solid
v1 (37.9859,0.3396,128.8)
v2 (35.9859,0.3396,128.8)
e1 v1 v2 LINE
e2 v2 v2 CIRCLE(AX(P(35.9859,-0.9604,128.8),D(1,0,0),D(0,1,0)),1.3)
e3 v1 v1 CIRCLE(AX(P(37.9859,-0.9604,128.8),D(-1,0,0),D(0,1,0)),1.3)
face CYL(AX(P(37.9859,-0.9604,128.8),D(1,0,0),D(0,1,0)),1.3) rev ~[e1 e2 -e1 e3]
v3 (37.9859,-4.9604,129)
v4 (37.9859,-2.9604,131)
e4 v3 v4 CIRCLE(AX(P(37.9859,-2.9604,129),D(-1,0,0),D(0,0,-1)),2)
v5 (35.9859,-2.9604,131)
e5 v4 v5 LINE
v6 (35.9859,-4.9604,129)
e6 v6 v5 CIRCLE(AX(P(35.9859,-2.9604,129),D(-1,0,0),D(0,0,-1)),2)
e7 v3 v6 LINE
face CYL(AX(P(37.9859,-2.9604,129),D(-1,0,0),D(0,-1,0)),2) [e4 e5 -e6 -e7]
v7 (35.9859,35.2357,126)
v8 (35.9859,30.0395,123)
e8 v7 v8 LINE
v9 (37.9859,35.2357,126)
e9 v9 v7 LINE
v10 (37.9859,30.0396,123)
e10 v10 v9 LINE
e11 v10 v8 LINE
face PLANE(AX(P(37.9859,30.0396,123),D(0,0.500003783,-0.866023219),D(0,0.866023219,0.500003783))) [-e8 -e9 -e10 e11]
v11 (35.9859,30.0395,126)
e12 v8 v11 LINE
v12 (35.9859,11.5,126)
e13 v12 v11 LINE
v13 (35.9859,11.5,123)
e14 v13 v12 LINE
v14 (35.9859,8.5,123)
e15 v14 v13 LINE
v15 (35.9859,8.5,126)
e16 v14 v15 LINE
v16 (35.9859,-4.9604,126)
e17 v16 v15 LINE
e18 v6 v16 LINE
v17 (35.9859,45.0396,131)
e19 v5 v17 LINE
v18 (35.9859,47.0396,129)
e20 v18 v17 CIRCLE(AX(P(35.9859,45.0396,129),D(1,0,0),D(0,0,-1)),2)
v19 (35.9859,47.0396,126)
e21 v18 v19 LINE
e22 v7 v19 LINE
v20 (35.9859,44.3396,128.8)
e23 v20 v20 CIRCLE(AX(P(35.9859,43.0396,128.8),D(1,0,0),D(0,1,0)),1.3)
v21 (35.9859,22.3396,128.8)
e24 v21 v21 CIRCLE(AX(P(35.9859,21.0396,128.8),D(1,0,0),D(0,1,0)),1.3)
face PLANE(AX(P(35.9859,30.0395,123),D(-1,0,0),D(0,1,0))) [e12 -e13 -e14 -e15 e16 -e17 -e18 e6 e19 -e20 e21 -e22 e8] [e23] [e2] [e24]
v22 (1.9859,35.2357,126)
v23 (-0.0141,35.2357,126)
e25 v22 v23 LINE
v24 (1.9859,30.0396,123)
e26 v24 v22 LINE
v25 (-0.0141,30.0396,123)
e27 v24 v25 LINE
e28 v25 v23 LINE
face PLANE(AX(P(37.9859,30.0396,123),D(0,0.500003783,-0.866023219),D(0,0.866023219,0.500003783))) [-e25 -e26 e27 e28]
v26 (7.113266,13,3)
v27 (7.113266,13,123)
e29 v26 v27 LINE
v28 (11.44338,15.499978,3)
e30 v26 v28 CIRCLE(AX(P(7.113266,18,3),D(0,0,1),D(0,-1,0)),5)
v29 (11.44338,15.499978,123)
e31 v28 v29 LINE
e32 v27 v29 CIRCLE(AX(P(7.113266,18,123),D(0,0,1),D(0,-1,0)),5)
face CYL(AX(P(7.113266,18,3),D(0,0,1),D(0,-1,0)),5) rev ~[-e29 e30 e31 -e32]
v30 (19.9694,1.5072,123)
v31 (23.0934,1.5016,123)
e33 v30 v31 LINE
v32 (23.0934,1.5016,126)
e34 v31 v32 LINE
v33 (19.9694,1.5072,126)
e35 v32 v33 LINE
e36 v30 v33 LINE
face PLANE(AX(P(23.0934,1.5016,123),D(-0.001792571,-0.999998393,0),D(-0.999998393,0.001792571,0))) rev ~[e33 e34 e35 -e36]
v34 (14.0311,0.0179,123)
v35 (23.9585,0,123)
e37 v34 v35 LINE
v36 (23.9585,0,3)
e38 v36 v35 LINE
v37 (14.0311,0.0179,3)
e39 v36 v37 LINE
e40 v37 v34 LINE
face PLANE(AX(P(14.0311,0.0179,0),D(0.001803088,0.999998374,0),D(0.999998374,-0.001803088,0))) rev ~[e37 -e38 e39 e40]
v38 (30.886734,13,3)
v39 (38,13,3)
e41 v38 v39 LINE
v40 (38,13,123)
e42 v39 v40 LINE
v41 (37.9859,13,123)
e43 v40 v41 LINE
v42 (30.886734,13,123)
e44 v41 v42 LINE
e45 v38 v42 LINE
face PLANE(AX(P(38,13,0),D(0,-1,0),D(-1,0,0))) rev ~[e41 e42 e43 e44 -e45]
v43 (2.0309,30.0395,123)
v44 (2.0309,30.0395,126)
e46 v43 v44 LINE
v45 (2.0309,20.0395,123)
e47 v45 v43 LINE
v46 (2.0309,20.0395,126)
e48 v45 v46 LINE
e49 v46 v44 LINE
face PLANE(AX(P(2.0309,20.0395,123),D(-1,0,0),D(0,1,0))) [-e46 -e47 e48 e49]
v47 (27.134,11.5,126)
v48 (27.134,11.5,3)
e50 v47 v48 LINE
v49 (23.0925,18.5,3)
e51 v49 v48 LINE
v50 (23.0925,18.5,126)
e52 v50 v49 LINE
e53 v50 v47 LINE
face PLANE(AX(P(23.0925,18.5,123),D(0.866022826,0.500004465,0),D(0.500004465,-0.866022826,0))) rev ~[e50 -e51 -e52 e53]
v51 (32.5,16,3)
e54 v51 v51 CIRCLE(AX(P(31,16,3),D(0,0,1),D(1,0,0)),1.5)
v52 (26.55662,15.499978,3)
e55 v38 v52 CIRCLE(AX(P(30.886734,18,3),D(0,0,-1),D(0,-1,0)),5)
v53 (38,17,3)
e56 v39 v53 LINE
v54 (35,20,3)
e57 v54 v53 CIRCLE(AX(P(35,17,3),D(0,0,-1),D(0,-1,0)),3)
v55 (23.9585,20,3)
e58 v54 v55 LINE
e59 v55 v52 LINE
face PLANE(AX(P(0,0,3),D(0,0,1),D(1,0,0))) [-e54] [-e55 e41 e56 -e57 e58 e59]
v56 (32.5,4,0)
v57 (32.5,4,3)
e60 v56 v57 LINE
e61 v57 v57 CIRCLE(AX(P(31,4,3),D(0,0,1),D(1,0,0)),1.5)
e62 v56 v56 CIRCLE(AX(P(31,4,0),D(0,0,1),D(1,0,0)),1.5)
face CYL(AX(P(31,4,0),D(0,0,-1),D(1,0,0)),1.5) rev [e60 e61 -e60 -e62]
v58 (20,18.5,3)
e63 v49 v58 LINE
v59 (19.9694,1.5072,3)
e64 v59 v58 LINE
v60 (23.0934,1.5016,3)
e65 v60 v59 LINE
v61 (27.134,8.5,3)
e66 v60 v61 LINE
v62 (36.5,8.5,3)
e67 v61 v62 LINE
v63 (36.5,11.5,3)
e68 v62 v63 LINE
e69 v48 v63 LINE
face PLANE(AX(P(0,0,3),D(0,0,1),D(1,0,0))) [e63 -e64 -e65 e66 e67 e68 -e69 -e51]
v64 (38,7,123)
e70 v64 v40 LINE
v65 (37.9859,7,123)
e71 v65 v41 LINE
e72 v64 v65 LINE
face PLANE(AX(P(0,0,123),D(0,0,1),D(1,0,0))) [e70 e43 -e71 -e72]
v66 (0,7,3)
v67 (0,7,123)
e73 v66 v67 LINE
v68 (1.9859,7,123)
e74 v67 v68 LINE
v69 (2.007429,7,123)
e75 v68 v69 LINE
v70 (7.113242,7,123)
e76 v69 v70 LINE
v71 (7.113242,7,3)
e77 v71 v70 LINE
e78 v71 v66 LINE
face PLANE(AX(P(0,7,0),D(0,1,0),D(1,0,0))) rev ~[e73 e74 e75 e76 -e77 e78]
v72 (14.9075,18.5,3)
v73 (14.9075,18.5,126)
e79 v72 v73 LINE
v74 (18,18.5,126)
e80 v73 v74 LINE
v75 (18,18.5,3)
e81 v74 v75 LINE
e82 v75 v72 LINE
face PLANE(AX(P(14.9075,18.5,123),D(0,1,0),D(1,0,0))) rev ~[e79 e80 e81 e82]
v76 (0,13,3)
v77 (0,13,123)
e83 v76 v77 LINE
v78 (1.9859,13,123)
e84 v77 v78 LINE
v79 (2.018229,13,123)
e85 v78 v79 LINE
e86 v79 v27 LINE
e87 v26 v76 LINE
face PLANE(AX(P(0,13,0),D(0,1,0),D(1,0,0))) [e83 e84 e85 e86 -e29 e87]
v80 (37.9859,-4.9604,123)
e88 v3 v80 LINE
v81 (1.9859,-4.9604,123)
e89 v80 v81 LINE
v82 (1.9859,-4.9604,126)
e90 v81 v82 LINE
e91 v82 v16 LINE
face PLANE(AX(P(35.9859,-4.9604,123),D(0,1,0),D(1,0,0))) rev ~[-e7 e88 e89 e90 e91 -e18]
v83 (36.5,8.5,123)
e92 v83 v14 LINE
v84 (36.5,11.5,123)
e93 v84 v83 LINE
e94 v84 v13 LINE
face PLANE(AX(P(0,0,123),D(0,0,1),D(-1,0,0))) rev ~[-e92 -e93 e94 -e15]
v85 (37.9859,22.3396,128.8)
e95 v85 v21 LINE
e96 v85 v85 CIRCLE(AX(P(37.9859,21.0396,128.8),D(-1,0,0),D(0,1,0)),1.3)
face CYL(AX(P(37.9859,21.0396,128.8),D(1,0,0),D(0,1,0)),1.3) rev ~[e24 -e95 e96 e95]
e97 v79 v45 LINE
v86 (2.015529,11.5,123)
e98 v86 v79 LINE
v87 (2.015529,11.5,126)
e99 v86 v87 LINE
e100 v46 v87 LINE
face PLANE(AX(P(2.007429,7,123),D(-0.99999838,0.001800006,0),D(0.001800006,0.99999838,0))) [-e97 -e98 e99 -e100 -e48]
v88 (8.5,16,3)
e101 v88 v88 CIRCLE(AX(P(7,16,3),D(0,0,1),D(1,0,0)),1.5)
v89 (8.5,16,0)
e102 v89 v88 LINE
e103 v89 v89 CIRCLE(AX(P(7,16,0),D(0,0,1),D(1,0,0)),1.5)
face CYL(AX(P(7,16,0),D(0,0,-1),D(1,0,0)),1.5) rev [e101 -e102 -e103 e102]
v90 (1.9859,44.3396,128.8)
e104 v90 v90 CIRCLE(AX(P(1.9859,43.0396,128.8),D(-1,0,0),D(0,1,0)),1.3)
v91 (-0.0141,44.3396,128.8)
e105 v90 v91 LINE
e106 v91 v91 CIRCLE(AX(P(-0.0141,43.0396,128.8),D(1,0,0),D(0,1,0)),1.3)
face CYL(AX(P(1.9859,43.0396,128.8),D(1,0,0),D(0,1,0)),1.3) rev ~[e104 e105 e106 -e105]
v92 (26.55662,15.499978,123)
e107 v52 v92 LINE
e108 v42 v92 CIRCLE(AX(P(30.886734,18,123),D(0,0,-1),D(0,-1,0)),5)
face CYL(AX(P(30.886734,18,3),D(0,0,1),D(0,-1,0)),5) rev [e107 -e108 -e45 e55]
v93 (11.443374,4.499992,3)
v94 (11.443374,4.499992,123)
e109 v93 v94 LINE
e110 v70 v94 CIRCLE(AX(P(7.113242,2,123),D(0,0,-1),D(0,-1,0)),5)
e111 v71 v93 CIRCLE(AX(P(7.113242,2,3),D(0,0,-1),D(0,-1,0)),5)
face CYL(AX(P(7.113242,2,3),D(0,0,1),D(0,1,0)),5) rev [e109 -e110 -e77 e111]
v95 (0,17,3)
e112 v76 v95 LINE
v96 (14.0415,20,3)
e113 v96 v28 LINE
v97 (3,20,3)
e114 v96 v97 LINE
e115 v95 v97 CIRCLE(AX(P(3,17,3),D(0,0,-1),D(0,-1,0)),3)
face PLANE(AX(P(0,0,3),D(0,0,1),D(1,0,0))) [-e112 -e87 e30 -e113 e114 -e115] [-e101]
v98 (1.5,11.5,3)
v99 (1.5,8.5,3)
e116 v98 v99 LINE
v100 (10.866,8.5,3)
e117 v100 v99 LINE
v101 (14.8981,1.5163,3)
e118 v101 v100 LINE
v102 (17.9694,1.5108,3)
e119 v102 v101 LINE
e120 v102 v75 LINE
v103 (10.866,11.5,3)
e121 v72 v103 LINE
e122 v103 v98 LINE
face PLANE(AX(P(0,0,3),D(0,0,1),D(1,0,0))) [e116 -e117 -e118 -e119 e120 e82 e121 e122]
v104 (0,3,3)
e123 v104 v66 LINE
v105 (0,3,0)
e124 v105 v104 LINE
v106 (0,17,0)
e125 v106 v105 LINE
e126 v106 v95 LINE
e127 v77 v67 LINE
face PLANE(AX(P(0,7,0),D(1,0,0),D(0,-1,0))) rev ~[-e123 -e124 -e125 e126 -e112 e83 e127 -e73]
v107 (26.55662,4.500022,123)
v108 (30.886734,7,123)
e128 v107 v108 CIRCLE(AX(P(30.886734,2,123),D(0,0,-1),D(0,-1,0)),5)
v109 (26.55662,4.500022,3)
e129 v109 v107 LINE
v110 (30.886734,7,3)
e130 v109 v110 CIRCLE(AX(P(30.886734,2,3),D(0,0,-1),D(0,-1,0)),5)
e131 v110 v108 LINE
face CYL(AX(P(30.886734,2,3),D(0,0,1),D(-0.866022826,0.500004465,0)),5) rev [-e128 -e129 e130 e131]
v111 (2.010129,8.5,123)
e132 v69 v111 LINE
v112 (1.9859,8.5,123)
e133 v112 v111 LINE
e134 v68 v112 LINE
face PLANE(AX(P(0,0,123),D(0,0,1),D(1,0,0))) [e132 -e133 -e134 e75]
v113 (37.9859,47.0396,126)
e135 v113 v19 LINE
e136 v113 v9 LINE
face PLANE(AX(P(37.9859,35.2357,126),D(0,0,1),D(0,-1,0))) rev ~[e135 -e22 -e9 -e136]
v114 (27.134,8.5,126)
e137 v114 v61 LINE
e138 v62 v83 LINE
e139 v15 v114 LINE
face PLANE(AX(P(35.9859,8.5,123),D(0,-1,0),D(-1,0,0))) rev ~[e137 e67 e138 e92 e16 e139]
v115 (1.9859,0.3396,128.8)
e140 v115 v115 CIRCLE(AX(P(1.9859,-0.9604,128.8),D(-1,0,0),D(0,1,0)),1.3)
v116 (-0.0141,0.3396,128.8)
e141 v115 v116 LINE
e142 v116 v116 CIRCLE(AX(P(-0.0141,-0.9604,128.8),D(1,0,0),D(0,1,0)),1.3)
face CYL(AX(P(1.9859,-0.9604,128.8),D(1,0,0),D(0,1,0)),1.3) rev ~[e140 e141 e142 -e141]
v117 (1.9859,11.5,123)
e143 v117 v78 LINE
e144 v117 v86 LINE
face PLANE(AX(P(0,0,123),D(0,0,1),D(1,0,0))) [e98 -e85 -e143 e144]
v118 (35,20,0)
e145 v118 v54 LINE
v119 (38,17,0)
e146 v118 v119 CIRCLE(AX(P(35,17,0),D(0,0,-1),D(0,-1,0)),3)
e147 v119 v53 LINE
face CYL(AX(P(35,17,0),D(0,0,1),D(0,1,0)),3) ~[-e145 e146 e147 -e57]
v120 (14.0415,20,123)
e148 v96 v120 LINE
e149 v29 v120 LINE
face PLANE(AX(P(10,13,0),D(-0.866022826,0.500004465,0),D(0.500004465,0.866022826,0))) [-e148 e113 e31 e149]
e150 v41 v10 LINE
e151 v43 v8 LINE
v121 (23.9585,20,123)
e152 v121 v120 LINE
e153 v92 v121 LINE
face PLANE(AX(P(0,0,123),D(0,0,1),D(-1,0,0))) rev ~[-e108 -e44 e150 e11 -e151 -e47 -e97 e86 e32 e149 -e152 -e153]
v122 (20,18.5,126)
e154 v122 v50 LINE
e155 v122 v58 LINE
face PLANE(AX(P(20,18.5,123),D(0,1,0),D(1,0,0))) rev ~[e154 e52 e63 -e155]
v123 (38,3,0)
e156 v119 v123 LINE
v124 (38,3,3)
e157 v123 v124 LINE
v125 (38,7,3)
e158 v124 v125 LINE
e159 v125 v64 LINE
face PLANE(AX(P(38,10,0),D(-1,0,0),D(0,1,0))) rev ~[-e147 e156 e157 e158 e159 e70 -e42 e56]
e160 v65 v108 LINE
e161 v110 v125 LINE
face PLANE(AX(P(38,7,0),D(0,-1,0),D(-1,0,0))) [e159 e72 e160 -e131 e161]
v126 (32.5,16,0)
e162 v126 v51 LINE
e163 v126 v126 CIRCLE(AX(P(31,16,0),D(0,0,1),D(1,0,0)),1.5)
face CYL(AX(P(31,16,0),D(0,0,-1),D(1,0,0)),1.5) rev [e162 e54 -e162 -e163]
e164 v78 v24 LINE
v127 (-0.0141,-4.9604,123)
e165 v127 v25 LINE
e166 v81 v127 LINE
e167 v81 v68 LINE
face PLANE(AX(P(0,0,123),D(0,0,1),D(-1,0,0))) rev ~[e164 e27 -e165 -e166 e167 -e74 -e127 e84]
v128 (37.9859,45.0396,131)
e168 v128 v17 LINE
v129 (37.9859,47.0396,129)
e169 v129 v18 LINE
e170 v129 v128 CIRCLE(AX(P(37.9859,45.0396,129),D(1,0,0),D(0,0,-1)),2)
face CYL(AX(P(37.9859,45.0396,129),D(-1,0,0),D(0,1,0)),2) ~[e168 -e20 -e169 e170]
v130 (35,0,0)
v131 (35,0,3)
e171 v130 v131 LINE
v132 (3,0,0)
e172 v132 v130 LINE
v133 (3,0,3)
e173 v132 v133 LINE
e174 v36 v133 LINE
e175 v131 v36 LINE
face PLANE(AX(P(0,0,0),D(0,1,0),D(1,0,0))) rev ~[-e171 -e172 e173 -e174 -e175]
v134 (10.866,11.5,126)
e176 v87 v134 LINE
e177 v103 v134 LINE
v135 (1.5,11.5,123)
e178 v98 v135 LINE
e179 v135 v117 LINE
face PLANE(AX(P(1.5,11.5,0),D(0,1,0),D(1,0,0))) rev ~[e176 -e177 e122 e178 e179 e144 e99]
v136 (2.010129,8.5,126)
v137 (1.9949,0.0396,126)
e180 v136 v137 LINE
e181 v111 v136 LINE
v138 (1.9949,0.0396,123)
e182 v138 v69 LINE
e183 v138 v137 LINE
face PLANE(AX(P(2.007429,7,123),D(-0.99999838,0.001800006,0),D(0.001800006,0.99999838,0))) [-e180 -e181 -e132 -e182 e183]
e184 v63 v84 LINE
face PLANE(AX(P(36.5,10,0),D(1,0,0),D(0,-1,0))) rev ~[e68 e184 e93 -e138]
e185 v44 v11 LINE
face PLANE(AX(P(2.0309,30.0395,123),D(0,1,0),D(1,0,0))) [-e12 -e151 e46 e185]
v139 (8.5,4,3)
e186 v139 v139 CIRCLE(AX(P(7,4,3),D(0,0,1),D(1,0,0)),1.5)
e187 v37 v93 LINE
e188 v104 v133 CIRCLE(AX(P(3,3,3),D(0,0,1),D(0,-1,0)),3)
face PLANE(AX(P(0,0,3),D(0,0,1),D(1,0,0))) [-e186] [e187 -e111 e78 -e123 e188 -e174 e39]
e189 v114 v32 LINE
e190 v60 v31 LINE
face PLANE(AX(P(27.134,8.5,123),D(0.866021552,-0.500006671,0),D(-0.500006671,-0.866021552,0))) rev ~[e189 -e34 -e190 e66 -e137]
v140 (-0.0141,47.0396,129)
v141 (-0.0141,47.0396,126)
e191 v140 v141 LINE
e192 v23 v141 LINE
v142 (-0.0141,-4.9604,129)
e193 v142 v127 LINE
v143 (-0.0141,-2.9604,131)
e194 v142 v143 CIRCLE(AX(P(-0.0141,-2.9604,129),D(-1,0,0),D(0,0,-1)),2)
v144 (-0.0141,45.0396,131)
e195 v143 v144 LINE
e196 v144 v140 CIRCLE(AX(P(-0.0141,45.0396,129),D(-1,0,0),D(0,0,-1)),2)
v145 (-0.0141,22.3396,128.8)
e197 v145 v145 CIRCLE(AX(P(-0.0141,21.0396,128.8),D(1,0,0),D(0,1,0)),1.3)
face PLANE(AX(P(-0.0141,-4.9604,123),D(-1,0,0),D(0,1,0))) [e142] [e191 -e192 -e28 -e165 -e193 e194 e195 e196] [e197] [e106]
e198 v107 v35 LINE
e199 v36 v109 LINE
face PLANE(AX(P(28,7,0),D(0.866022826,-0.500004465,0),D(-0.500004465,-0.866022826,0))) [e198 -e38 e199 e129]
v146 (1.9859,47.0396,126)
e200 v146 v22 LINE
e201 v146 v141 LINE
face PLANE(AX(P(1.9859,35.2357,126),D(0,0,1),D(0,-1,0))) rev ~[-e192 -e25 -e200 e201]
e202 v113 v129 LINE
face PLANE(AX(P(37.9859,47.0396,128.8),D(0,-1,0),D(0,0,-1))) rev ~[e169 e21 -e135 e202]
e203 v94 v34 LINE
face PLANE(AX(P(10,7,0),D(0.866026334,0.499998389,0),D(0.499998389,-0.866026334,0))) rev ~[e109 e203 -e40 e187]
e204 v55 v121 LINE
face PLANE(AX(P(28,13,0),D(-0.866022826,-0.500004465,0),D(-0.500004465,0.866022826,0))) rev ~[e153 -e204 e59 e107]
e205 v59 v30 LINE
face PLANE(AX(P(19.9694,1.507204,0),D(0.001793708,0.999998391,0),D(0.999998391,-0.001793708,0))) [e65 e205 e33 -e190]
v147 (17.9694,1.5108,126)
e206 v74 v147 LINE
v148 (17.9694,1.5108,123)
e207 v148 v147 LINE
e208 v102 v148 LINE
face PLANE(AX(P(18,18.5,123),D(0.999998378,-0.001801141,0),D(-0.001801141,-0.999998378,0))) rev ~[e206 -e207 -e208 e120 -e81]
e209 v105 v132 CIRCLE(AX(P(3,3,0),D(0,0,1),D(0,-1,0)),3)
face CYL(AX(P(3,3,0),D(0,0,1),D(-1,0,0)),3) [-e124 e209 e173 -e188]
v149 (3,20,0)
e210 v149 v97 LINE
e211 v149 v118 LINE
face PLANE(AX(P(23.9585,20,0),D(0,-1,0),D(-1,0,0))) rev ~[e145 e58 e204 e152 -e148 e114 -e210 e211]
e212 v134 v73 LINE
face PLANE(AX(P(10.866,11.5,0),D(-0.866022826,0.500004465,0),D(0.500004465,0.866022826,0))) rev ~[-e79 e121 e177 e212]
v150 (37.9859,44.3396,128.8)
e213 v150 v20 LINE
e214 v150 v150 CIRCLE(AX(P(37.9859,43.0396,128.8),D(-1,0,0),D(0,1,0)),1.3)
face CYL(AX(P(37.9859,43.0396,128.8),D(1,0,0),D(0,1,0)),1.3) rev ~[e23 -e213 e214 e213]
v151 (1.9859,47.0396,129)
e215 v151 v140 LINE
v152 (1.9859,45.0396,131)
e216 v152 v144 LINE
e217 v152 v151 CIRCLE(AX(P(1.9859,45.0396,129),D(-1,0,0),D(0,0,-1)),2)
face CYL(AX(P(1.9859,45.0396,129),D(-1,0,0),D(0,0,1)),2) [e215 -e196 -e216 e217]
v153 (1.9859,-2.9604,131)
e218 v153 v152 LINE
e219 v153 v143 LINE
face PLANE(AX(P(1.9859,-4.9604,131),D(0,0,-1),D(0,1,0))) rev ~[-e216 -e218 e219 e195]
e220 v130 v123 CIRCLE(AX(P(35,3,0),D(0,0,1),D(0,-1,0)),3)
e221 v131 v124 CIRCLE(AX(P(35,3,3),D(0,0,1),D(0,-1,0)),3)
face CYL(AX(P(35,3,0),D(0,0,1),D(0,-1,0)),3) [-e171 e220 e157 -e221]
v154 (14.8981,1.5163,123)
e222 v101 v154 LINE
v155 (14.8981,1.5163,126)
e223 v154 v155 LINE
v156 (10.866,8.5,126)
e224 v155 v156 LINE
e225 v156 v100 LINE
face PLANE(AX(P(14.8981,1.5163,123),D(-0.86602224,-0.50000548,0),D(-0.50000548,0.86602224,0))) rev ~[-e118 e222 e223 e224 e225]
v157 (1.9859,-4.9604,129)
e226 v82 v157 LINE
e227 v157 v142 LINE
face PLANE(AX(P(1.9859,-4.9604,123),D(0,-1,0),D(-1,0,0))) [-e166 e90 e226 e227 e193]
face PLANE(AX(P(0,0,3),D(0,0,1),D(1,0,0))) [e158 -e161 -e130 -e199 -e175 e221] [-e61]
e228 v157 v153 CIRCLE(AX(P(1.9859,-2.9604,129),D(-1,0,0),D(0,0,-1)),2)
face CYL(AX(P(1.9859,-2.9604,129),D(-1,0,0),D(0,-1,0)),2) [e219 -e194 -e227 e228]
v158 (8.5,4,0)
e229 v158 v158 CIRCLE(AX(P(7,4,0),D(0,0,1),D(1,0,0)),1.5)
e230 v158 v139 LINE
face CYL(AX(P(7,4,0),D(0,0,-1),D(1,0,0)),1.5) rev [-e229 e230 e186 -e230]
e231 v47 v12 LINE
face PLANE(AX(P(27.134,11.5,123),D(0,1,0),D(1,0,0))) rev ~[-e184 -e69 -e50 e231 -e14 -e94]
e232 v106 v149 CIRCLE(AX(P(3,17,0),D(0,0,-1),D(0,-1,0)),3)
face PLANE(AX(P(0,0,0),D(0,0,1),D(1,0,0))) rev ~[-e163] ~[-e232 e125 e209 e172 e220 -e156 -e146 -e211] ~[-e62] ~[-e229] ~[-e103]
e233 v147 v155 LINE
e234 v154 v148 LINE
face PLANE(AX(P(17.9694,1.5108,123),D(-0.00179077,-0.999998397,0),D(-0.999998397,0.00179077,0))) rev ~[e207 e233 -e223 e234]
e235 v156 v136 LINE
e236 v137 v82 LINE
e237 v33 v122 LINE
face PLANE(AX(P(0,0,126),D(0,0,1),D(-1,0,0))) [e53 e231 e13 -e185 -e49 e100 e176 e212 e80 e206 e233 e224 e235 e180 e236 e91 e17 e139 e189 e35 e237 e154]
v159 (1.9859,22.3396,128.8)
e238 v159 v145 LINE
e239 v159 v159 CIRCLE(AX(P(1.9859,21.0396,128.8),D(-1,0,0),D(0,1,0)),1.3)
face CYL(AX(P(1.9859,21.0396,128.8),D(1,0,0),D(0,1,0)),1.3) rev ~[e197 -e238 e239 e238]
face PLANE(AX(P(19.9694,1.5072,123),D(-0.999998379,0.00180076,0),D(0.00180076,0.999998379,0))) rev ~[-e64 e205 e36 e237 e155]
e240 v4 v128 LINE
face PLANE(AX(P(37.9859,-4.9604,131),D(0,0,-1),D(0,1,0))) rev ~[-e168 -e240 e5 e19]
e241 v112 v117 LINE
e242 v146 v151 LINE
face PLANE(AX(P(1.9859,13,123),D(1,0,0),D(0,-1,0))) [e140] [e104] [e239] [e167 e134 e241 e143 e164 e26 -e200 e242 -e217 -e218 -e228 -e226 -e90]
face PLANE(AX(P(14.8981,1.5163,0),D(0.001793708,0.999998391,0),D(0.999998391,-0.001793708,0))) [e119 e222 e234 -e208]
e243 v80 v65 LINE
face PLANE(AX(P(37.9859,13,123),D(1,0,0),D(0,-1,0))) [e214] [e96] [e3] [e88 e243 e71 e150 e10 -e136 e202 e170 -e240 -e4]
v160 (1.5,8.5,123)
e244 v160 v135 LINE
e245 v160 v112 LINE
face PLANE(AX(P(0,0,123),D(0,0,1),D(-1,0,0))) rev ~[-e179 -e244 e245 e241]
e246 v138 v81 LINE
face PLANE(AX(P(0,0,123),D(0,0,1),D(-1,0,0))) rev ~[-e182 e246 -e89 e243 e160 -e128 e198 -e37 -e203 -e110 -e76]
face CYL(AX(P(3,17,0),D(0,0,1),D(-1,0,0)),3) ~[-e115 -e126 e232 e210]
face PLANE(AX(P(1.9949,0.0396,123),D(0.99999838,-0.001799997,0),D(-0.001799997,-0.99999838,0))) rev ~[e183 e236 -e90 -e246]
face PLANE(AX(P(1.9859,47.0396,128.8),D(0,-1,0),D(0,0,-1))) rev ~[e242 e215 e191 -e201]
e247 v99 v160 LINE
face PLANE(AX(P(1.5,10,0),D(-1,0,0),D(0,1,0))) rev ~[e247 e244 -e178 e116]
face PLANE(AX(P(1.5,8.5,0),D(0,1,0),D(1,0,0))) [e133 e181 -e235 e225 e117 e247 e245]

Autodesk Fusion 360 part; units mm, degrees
sketch "스케치1" plane through (0, 0, 0) normal (0, 0, 1) x (1, 0, 0)
  line L0 (0, 0) -> (38, 0)
  line L1 (38, 0) -> (38, 20)
  line L2 (38, 20) -> (0, 20)
  line L3 (0, 20) -> (0, 0)
  line L4 (0, 0) -> (0, 10)
  circle A0 centre (7, 16) radius 1.5
  circle A1 centre (31, 16) radius 1.5
  circle A2 centre (7, 4) radius 1.5
  circle A3 centre (31, 4) radius 1.5
  circle A4 centre (19, 10) radius 4
  line L5 (0, 10) -> (0, 13)
  line L6 (0, 13) -> (10, 13)
  line L7 (10, 13) -> (14.0415, 20)
  line L8 (10, 13) -> (18.0829, 13) construction
  line L9 (0, 10) -> (0, 7)
  line L10 (0, 10) -> (0, 7)
  line L11 (0, 7) -> (10, 7)
  line L12 (10, 7) -> (14.0311, 0.0179)
  line L13 (38, 10) -> (38, 13)
  line L14 (38, 13) -> (28, 13)
  line L15 (28, 13) -> (23.9585, 20)
  line L16 (28, 13) -> (36.0829, 13) construction
  line L17 (23.9585, 20) -> (14.0415, 20)
  line L18 (38, 10) -> (38, 7)
  line L19 (38, 7) -> (28, 7)
  line L20 (28, 7) -> (23.9585, 0)
  line L21 (28, 7) -> (36.0829, 7) construction
  line L22 (14.0415, 20) -> (23.9585, 20)
  line L23 (14.0311, 0.0179) -> (23.9585, 0)
  line L24 (27.134, 11.5) -> (23.0925, 18.5)
  line L25 (14.9075, 18.5) -> (23.0925, 18.5)
  line L26 (10.866, 11.5) -> (14.9075, 18.5)
  line L27 (1.5, 11.5) -> (10.866, 11.5)
  line L28 (1.5, 10) -> (1.5, 11.5)
  line L29 (1.5, 10) -> (1.5, 8.5)
  line L30 (1.5, 8.5) -> (10.866, 8.5)
  line L31 (10.866, 8.5) -> (14.8981, 1.5163)
  line L32 (14.8981, 1.5163) -> (23.0934, 1.5016)
  line L33 (27.134, 8.5) -> (23.0934, 1.5016)
  line L34 (36.5, 8.5) -> (27.134, 8.5)
  line L35 (36.5, 10) -> (36.5, 8.5)
  line L36 (36.5, 10) -> (36.5, 11.5)
  line L37 (36.5, 11.5) -> (27.134, 11.5)
  line L38 (19, 18.5) -> (20, 18.5)
  line L39 (19, 18.5) -> (18, 18.5)
  line L40 (18, 18.5) -> (17.9694, 1.5108)
  line L41 (20, 18.5) -> (19.9694, 1.5072)
  dimension "d1" = 38
  dimension "d2" = 20
  dimension "d7" = 3
  dimension "d8" = 3
  dimension "d9" = 3
  dimension "d10" = 3
  dimension "d11" = 8
  dimension "d12" = 3
  dimension "d13" = 10
  dimension "d14" = 60
  dimension "d15" = 120
  dimension "d16" = 10
  dimension "d17" = 120
  dimension "d19" = 10
  dimension "d20" = 120
  dimension "d21" = 1.5
  dimension "d22" = 1
  dimension "d23" = 1
extrude "돌출1" add sketch "스케치1" along normal blind 3 contours L0 L3 L4 L11 L12 L23 | L0 L1 L19 L20 | L1 L2 L3 L4 L5 L6 L7 L9 L10 L11 L12 L13 L14 L15 L17 L18 L19 L20 L22 L23 | L2 L3 L6 L7 | L1 L2 L14 L15 | A0 | A1 | A2 | A3 | A4 L41 | A4 L24 L25 L32 L33 L34 L35 L36 L37 L41 | A4 L40 L41 | A4 L25 L38 L39 L40 L41 | A4 L32 L40 L41 | A4 L40 | A4 L25 L26 L27 L28 L29 L30 L31 L32 L40 makes body 1
extrude "돌출2" add sketch "스케치1" against normal blind 2.5 contours A4 L41 | A4 L40 L41 | A4 L40 bodies 1
extrude "돌출3" cut sketch "스케치1" along normal blind 3 contours A0 | A1 | A2 | A3 bodies 1
extrude "돌출4" add sketch "스케치1" along normal blind 123 contours L1 L2 L3 L4 L5 L6 L7 L9 L10 L11 L12 L13 L14 L15 L17 L18 L19 L20 L22 L23 | A4 L40 L41 | A4 L25 L38 L39 L40 L41 | A4 L32 L40 L41 bodies 1
sketch "스케치2" plane through (0, 0, 123) normal (0, 0, 1) x (-1, 0, 0)
  line L0 (-36.5, -11.5) -> (-36.5, -8.5)
  line L1 (-36.5, -8.5) -> (-27.134, -8.5)
  line L2 (-27.134, -8.5) -> (-23.0934, -1.5016)
  line L3 (-23.0934, -1.5016) -> (-19.9694, -1.5072)
  line L4 (-19.9694, -1.5072) -> (-20, -18.5)
  line L5 (-20, -18.5) -> (-23.0925, -18.5)
  line L6 (-23.0925, -18.5) -> (-27.134, -11.5)
  line L7 (-27.134, -11.5) -> (-36.5, -11.5)
  line L8 (-1.5, -8.5) -> (-1.5, -11.5)
  line L9 (-1.5, -11.5) -> (-10.866, -11.5)
  line L10 (-10.866, -11.5) -> (-14.9075, -18.5)
  line L11 (-14.9075, -18.5) -> (-18, -18.5)
  line L12 (-18, -18.5) -> (-17.9694, -1.5108)
  line L13 (-17.9694, -1.5108) -> (-14.8981, -1.5163)
  line L14 (-14.8981, -1.5163) -> (-10.866, -8.5)
  line L15 (-10.866, -8.5) -> (-1.5, -8.5)
  line L16 (0, -13) -> (0, -7)
  line L17 (0, -7) -> (-10, -7)
  line L18 (-10, -7) -> (-14.0311, -0.0179)
  line L19 (-14.0311, -0.0179) -> (-23.9585, 0)
  line L20 (-23.9585, 0) -> (-28, -7)
  line L21 (-28, -7) -> (-38, -7)
  line L22 (-38, -7) -> (-38, -13)
  line L23 (-38, -13) -> (-28, -13)
  line L24 (-28, -13) -> (-23.9585, -20)
  line L25 (-23.9585, -20) -> (-14.0415, -20)
  line L26 (-14.0415, -20) -> (-10, -13)
  line L27 (-10, -13) -> (0, -13)
  line L28 (-18.9948, -0.0089) -> (-1.9949, -0.0396)
  line L29 (-1.9949, -0.0396) -> (-1.9859, 4.9604)
  line L30 (-1.9859, 4.9604) -> (-35.9859, 4.9604)
  line L31 (-35.9859, 4.9604) -> (-35.9859, -56.0396)
  line L32 (-35.9859, -56.0396) -> (-1.9859, -56.0396)
  line L33 (-1.9859, -56.0396) -> (-1.9859, 4.9604)
  line L34 (-35.9859, 4.9604) -> (-37.9859, 4.9604)
  line L35 (-1.9859, 4.9604) -> (0.0141, 4.9604)
  line L36 (0.0141, 4.9604) -> (0.0141, -56.0396)
  line L37 (0.0141, -56.0396) -> (-1.9859, -56.0396)
  line L38 (-1.9859, -56.0396) -> (-1.9859, 4.9604)
  line L39 (-37.9859, 4.9604) -> (-35.9859, 4.9604)
  line L40 (-35.9859, 4.9604) -> (-35.9859, -56.0396)
  line L41 (-35.9859, -56.0396) -> (-37.9859, -56.0396)
  line L42 (-37.9859, -56.0396) -> (-37.9859, 4.9604)
  line L43 (-1.9949, -0.0396) -> (-2.0309, -20.0395)
  line L44 (-2.0309, -20.0395) -> (-2.0309, -30.0395)
  line L45 (-2.0309, -30.0395) -> (-36.0309, -30.0395)
  line L46 (-35.9859, -56.0396) -> (-35.9859, -47.0396)
  line L47 (-35.9859, -47.0396) -> (-37.9859, -47.0396)
  line L48 (-35.9859, -47.0396) -> (0.0141, -47.0396)
  line L49 (-36.0309, -30.0395) -> (-38.0309, -30.0395)
  line L50 (-2.0309, -30.0395) -> (-0.0309, -30.0395)
  dimension "d32" = 17
  dimension "d33" = 5
  dimension "d34" = 34
  dimension "d35" = 61
  dimension "d36" = 2
  dimension "d37" = 2
  dimension "d38" = 61
  dimension "d39" = 20
  dimension "d40" = 10
  dimension "d41" = 34
  dimension "d56" = 9
  dimension "d57" = 36
  dimension "d60" = 2
  dimension "d61" = 2
extrude "돌출5" add sketch "스케치2" along normal blind 3 separate body contours L0 L1 L7 L21 L23 L31 L40 L42 | L0 L1 L7 L31 L40 | L1 L2 L3 L4 L5 L6 L7 L31 L40 | L1 L2 L3 L4 L5 L6 L7 L9 L10 L11 L12 L13 L14 L15 L17 L18 L19 L20 L21 L23 L24 L25 L26 L27 L28 L31 L40 L43 | L23 L31 L40 L42 L45 L49 | L23 L24 L25 L26 L27 L31 L40 L43 L44 L45 | L19 L20 L21 L28 L29 L30 L31 L40 | L21 L31 L34 L39 L40 L42 | L31 L33 L38 L40 L45 L48 L50 | L31 L40 L42 L45 L47 L49 | L31 L32 L33 L38 L40 L46 L48 | L31 L40 L41 L42 L46 L47 | L27 L33 L38 L43 L44 L50 | L16 L17 L27 L33 L35 L36 L38 L48 | L33 L36 L37 L38 L48 | L17 L18 L28 L43 | L8 L9 L15 L16 L17 L27 L33 L38 | L8 L9 L15 L33 L38 | L9 L10 L11 L12 L13 L14 L15 L43 makes body 2
extrude "돌출6" cut sketch "스케치2" along normal blind 3 contours L31 L33 L38 L40 L45 L48 L50 | L31 L32 L33 L38 L40 L46 L48 | L27 L33 L38 L43 L44 L50 bodies 2
sketch "스케치3" plane through (37.9859, 0, 0) normal (1, 0, 0) x (0, 1, 0)
  line L0 (-4.9604, 123) -> (56.0396, 123)
  line L1 (56.0396, 123) -> (56.0396, 126)
  line L2 (56.0396, 126) -> (-4.9604, 126)
  line L3 (-4.9604, 126) -> (-4.9604, 123)
  line L4 (-4.9604, 126) -> (-4.9604, 131)
  line L5 (-4.9604, 126) -> (-4.9604, 128.8)
  line L6 (-4.9604, 131) -> (56.0396, 131)
  line L7 (56.0396, 131) -> (56.0396, 126)
  line L8 (56.0396, 126) -> (-4.9604, 126)
  line L9 (-4.9604, 126) -> (-4.9604, 131)
  line L10 (-4.9604, 128.8) -> (56.0396, 128.8)
  line L11 (-4.9604, 128.8) -> (-0.9604, 128.8)
  line L12 (-0.9604, 128.8) -> (21.0396, 128.8)
  line L13 (21.0396, 128.8) -> (43.0396, 128.8)
  circle A0 centre (-0.9604, 128.8) radius 1.3
  circle A1 centre (21.0396, 128.8) radius 1.3
  circle A2 centre (43.0396, 128.8) radius 1.3
  line L14 (43.0396, 128.8) -> (47.0396, 128.8)
  line L15 (47.0396, 128.8) -> (47.0396, 131)
  line L16 (47.0396, 128.8) -> (47.0396, 126)
  line L17 (-4.9604, 123) -> (30.0396, 123)
  line L18 (30.0396, 123) -> (35.2357, 126)
  line L19 (30.0396, 123) -> (36.0396, 123) construction
  dimension "d46" = 5
  dimension "d47" = 2.8
  dimension "d48" = 61
  dimension "d49" = 4
  dimension "d50" = 22
  dimension "d51" = 22
  dimension "d52" = 2.6
  dimension "d53" = 2.6
  dimension "d54" = 2.6
  dimension "d55" = 4
  dimension "d62" = 35
  dimension "d63" = 30
extrude "돌출7" cut sketch "스케치2" along normal blind 3 contours L31 L32 L33 L38 L40 L46 L48 | L31 L40 L41 L42 L46 L47 | L33 L36 L37 L38 L48 bodies 2
extrude "돌출8" add sketch "스케치3" against normal blind 2 separate body contours L2 L4 L5 L8 L9 L10 L11 L12 L13 A0 A1 A2 L14 L16 | L4 L6 L9 L10 L11 L12 L13 A0 A1 A2 L14 L15 makes body 3
copy_body "CopyPasteBodies1" bodies 3 makes body 4
move_body "이동1" bodies 4 to x (1, 0, 0) y (0, 1, 0) z (0, 0, 1) at (-36, 0, 0)
extrude "돌출9" cut sketch "스케치3" against normal blind 38 contours L0 L1 L2 L8 L18 bodies 2
extrude "돌출10" cut sketch "스케치2" along normal blind 3 contours L1 L2 L3 L4 L5 L6 L7 L31 L40 | L9 L10 L11 L12 L13 L14 L15 L43 bodies 2
thread "스레드1"
thread "스레드2"
thread "스레드3"
thread "스레드4"
extrude "돌출11" cut 1 faces at (20.2188, 8.8691, -2.5) along direction (0, 0, 1) blind 2.5 on bodies 1 bodies 1
thread "스레드5"
thread "스레드6"
thread "스레드7"
thread "스레드8"
thread "스레드9"
thread "스레드10"
fillet "모깎기1" radius 3 4 edges at (38, 0, 1.5) (38, 20, 1.5) (0, 0, 1.5) (0, 20, 1.5) on bodies 1
fillet "모깎기2" radius 5 4 edges at (28, 13, 63) (10, 13, 63) (10, 7, 63) (28, 7, 63) on bodies 1
combine "결합1" operation add target body 1 tool bodies 3 2 4
fillet "모깎기3" radius 2 4 edges at (0.9859, -4.9604, 131) (36.9859, -4.9604, 131) (0.9859, 47.0396, 131) (36.9859, 47.0396, 131) on bodies 1
